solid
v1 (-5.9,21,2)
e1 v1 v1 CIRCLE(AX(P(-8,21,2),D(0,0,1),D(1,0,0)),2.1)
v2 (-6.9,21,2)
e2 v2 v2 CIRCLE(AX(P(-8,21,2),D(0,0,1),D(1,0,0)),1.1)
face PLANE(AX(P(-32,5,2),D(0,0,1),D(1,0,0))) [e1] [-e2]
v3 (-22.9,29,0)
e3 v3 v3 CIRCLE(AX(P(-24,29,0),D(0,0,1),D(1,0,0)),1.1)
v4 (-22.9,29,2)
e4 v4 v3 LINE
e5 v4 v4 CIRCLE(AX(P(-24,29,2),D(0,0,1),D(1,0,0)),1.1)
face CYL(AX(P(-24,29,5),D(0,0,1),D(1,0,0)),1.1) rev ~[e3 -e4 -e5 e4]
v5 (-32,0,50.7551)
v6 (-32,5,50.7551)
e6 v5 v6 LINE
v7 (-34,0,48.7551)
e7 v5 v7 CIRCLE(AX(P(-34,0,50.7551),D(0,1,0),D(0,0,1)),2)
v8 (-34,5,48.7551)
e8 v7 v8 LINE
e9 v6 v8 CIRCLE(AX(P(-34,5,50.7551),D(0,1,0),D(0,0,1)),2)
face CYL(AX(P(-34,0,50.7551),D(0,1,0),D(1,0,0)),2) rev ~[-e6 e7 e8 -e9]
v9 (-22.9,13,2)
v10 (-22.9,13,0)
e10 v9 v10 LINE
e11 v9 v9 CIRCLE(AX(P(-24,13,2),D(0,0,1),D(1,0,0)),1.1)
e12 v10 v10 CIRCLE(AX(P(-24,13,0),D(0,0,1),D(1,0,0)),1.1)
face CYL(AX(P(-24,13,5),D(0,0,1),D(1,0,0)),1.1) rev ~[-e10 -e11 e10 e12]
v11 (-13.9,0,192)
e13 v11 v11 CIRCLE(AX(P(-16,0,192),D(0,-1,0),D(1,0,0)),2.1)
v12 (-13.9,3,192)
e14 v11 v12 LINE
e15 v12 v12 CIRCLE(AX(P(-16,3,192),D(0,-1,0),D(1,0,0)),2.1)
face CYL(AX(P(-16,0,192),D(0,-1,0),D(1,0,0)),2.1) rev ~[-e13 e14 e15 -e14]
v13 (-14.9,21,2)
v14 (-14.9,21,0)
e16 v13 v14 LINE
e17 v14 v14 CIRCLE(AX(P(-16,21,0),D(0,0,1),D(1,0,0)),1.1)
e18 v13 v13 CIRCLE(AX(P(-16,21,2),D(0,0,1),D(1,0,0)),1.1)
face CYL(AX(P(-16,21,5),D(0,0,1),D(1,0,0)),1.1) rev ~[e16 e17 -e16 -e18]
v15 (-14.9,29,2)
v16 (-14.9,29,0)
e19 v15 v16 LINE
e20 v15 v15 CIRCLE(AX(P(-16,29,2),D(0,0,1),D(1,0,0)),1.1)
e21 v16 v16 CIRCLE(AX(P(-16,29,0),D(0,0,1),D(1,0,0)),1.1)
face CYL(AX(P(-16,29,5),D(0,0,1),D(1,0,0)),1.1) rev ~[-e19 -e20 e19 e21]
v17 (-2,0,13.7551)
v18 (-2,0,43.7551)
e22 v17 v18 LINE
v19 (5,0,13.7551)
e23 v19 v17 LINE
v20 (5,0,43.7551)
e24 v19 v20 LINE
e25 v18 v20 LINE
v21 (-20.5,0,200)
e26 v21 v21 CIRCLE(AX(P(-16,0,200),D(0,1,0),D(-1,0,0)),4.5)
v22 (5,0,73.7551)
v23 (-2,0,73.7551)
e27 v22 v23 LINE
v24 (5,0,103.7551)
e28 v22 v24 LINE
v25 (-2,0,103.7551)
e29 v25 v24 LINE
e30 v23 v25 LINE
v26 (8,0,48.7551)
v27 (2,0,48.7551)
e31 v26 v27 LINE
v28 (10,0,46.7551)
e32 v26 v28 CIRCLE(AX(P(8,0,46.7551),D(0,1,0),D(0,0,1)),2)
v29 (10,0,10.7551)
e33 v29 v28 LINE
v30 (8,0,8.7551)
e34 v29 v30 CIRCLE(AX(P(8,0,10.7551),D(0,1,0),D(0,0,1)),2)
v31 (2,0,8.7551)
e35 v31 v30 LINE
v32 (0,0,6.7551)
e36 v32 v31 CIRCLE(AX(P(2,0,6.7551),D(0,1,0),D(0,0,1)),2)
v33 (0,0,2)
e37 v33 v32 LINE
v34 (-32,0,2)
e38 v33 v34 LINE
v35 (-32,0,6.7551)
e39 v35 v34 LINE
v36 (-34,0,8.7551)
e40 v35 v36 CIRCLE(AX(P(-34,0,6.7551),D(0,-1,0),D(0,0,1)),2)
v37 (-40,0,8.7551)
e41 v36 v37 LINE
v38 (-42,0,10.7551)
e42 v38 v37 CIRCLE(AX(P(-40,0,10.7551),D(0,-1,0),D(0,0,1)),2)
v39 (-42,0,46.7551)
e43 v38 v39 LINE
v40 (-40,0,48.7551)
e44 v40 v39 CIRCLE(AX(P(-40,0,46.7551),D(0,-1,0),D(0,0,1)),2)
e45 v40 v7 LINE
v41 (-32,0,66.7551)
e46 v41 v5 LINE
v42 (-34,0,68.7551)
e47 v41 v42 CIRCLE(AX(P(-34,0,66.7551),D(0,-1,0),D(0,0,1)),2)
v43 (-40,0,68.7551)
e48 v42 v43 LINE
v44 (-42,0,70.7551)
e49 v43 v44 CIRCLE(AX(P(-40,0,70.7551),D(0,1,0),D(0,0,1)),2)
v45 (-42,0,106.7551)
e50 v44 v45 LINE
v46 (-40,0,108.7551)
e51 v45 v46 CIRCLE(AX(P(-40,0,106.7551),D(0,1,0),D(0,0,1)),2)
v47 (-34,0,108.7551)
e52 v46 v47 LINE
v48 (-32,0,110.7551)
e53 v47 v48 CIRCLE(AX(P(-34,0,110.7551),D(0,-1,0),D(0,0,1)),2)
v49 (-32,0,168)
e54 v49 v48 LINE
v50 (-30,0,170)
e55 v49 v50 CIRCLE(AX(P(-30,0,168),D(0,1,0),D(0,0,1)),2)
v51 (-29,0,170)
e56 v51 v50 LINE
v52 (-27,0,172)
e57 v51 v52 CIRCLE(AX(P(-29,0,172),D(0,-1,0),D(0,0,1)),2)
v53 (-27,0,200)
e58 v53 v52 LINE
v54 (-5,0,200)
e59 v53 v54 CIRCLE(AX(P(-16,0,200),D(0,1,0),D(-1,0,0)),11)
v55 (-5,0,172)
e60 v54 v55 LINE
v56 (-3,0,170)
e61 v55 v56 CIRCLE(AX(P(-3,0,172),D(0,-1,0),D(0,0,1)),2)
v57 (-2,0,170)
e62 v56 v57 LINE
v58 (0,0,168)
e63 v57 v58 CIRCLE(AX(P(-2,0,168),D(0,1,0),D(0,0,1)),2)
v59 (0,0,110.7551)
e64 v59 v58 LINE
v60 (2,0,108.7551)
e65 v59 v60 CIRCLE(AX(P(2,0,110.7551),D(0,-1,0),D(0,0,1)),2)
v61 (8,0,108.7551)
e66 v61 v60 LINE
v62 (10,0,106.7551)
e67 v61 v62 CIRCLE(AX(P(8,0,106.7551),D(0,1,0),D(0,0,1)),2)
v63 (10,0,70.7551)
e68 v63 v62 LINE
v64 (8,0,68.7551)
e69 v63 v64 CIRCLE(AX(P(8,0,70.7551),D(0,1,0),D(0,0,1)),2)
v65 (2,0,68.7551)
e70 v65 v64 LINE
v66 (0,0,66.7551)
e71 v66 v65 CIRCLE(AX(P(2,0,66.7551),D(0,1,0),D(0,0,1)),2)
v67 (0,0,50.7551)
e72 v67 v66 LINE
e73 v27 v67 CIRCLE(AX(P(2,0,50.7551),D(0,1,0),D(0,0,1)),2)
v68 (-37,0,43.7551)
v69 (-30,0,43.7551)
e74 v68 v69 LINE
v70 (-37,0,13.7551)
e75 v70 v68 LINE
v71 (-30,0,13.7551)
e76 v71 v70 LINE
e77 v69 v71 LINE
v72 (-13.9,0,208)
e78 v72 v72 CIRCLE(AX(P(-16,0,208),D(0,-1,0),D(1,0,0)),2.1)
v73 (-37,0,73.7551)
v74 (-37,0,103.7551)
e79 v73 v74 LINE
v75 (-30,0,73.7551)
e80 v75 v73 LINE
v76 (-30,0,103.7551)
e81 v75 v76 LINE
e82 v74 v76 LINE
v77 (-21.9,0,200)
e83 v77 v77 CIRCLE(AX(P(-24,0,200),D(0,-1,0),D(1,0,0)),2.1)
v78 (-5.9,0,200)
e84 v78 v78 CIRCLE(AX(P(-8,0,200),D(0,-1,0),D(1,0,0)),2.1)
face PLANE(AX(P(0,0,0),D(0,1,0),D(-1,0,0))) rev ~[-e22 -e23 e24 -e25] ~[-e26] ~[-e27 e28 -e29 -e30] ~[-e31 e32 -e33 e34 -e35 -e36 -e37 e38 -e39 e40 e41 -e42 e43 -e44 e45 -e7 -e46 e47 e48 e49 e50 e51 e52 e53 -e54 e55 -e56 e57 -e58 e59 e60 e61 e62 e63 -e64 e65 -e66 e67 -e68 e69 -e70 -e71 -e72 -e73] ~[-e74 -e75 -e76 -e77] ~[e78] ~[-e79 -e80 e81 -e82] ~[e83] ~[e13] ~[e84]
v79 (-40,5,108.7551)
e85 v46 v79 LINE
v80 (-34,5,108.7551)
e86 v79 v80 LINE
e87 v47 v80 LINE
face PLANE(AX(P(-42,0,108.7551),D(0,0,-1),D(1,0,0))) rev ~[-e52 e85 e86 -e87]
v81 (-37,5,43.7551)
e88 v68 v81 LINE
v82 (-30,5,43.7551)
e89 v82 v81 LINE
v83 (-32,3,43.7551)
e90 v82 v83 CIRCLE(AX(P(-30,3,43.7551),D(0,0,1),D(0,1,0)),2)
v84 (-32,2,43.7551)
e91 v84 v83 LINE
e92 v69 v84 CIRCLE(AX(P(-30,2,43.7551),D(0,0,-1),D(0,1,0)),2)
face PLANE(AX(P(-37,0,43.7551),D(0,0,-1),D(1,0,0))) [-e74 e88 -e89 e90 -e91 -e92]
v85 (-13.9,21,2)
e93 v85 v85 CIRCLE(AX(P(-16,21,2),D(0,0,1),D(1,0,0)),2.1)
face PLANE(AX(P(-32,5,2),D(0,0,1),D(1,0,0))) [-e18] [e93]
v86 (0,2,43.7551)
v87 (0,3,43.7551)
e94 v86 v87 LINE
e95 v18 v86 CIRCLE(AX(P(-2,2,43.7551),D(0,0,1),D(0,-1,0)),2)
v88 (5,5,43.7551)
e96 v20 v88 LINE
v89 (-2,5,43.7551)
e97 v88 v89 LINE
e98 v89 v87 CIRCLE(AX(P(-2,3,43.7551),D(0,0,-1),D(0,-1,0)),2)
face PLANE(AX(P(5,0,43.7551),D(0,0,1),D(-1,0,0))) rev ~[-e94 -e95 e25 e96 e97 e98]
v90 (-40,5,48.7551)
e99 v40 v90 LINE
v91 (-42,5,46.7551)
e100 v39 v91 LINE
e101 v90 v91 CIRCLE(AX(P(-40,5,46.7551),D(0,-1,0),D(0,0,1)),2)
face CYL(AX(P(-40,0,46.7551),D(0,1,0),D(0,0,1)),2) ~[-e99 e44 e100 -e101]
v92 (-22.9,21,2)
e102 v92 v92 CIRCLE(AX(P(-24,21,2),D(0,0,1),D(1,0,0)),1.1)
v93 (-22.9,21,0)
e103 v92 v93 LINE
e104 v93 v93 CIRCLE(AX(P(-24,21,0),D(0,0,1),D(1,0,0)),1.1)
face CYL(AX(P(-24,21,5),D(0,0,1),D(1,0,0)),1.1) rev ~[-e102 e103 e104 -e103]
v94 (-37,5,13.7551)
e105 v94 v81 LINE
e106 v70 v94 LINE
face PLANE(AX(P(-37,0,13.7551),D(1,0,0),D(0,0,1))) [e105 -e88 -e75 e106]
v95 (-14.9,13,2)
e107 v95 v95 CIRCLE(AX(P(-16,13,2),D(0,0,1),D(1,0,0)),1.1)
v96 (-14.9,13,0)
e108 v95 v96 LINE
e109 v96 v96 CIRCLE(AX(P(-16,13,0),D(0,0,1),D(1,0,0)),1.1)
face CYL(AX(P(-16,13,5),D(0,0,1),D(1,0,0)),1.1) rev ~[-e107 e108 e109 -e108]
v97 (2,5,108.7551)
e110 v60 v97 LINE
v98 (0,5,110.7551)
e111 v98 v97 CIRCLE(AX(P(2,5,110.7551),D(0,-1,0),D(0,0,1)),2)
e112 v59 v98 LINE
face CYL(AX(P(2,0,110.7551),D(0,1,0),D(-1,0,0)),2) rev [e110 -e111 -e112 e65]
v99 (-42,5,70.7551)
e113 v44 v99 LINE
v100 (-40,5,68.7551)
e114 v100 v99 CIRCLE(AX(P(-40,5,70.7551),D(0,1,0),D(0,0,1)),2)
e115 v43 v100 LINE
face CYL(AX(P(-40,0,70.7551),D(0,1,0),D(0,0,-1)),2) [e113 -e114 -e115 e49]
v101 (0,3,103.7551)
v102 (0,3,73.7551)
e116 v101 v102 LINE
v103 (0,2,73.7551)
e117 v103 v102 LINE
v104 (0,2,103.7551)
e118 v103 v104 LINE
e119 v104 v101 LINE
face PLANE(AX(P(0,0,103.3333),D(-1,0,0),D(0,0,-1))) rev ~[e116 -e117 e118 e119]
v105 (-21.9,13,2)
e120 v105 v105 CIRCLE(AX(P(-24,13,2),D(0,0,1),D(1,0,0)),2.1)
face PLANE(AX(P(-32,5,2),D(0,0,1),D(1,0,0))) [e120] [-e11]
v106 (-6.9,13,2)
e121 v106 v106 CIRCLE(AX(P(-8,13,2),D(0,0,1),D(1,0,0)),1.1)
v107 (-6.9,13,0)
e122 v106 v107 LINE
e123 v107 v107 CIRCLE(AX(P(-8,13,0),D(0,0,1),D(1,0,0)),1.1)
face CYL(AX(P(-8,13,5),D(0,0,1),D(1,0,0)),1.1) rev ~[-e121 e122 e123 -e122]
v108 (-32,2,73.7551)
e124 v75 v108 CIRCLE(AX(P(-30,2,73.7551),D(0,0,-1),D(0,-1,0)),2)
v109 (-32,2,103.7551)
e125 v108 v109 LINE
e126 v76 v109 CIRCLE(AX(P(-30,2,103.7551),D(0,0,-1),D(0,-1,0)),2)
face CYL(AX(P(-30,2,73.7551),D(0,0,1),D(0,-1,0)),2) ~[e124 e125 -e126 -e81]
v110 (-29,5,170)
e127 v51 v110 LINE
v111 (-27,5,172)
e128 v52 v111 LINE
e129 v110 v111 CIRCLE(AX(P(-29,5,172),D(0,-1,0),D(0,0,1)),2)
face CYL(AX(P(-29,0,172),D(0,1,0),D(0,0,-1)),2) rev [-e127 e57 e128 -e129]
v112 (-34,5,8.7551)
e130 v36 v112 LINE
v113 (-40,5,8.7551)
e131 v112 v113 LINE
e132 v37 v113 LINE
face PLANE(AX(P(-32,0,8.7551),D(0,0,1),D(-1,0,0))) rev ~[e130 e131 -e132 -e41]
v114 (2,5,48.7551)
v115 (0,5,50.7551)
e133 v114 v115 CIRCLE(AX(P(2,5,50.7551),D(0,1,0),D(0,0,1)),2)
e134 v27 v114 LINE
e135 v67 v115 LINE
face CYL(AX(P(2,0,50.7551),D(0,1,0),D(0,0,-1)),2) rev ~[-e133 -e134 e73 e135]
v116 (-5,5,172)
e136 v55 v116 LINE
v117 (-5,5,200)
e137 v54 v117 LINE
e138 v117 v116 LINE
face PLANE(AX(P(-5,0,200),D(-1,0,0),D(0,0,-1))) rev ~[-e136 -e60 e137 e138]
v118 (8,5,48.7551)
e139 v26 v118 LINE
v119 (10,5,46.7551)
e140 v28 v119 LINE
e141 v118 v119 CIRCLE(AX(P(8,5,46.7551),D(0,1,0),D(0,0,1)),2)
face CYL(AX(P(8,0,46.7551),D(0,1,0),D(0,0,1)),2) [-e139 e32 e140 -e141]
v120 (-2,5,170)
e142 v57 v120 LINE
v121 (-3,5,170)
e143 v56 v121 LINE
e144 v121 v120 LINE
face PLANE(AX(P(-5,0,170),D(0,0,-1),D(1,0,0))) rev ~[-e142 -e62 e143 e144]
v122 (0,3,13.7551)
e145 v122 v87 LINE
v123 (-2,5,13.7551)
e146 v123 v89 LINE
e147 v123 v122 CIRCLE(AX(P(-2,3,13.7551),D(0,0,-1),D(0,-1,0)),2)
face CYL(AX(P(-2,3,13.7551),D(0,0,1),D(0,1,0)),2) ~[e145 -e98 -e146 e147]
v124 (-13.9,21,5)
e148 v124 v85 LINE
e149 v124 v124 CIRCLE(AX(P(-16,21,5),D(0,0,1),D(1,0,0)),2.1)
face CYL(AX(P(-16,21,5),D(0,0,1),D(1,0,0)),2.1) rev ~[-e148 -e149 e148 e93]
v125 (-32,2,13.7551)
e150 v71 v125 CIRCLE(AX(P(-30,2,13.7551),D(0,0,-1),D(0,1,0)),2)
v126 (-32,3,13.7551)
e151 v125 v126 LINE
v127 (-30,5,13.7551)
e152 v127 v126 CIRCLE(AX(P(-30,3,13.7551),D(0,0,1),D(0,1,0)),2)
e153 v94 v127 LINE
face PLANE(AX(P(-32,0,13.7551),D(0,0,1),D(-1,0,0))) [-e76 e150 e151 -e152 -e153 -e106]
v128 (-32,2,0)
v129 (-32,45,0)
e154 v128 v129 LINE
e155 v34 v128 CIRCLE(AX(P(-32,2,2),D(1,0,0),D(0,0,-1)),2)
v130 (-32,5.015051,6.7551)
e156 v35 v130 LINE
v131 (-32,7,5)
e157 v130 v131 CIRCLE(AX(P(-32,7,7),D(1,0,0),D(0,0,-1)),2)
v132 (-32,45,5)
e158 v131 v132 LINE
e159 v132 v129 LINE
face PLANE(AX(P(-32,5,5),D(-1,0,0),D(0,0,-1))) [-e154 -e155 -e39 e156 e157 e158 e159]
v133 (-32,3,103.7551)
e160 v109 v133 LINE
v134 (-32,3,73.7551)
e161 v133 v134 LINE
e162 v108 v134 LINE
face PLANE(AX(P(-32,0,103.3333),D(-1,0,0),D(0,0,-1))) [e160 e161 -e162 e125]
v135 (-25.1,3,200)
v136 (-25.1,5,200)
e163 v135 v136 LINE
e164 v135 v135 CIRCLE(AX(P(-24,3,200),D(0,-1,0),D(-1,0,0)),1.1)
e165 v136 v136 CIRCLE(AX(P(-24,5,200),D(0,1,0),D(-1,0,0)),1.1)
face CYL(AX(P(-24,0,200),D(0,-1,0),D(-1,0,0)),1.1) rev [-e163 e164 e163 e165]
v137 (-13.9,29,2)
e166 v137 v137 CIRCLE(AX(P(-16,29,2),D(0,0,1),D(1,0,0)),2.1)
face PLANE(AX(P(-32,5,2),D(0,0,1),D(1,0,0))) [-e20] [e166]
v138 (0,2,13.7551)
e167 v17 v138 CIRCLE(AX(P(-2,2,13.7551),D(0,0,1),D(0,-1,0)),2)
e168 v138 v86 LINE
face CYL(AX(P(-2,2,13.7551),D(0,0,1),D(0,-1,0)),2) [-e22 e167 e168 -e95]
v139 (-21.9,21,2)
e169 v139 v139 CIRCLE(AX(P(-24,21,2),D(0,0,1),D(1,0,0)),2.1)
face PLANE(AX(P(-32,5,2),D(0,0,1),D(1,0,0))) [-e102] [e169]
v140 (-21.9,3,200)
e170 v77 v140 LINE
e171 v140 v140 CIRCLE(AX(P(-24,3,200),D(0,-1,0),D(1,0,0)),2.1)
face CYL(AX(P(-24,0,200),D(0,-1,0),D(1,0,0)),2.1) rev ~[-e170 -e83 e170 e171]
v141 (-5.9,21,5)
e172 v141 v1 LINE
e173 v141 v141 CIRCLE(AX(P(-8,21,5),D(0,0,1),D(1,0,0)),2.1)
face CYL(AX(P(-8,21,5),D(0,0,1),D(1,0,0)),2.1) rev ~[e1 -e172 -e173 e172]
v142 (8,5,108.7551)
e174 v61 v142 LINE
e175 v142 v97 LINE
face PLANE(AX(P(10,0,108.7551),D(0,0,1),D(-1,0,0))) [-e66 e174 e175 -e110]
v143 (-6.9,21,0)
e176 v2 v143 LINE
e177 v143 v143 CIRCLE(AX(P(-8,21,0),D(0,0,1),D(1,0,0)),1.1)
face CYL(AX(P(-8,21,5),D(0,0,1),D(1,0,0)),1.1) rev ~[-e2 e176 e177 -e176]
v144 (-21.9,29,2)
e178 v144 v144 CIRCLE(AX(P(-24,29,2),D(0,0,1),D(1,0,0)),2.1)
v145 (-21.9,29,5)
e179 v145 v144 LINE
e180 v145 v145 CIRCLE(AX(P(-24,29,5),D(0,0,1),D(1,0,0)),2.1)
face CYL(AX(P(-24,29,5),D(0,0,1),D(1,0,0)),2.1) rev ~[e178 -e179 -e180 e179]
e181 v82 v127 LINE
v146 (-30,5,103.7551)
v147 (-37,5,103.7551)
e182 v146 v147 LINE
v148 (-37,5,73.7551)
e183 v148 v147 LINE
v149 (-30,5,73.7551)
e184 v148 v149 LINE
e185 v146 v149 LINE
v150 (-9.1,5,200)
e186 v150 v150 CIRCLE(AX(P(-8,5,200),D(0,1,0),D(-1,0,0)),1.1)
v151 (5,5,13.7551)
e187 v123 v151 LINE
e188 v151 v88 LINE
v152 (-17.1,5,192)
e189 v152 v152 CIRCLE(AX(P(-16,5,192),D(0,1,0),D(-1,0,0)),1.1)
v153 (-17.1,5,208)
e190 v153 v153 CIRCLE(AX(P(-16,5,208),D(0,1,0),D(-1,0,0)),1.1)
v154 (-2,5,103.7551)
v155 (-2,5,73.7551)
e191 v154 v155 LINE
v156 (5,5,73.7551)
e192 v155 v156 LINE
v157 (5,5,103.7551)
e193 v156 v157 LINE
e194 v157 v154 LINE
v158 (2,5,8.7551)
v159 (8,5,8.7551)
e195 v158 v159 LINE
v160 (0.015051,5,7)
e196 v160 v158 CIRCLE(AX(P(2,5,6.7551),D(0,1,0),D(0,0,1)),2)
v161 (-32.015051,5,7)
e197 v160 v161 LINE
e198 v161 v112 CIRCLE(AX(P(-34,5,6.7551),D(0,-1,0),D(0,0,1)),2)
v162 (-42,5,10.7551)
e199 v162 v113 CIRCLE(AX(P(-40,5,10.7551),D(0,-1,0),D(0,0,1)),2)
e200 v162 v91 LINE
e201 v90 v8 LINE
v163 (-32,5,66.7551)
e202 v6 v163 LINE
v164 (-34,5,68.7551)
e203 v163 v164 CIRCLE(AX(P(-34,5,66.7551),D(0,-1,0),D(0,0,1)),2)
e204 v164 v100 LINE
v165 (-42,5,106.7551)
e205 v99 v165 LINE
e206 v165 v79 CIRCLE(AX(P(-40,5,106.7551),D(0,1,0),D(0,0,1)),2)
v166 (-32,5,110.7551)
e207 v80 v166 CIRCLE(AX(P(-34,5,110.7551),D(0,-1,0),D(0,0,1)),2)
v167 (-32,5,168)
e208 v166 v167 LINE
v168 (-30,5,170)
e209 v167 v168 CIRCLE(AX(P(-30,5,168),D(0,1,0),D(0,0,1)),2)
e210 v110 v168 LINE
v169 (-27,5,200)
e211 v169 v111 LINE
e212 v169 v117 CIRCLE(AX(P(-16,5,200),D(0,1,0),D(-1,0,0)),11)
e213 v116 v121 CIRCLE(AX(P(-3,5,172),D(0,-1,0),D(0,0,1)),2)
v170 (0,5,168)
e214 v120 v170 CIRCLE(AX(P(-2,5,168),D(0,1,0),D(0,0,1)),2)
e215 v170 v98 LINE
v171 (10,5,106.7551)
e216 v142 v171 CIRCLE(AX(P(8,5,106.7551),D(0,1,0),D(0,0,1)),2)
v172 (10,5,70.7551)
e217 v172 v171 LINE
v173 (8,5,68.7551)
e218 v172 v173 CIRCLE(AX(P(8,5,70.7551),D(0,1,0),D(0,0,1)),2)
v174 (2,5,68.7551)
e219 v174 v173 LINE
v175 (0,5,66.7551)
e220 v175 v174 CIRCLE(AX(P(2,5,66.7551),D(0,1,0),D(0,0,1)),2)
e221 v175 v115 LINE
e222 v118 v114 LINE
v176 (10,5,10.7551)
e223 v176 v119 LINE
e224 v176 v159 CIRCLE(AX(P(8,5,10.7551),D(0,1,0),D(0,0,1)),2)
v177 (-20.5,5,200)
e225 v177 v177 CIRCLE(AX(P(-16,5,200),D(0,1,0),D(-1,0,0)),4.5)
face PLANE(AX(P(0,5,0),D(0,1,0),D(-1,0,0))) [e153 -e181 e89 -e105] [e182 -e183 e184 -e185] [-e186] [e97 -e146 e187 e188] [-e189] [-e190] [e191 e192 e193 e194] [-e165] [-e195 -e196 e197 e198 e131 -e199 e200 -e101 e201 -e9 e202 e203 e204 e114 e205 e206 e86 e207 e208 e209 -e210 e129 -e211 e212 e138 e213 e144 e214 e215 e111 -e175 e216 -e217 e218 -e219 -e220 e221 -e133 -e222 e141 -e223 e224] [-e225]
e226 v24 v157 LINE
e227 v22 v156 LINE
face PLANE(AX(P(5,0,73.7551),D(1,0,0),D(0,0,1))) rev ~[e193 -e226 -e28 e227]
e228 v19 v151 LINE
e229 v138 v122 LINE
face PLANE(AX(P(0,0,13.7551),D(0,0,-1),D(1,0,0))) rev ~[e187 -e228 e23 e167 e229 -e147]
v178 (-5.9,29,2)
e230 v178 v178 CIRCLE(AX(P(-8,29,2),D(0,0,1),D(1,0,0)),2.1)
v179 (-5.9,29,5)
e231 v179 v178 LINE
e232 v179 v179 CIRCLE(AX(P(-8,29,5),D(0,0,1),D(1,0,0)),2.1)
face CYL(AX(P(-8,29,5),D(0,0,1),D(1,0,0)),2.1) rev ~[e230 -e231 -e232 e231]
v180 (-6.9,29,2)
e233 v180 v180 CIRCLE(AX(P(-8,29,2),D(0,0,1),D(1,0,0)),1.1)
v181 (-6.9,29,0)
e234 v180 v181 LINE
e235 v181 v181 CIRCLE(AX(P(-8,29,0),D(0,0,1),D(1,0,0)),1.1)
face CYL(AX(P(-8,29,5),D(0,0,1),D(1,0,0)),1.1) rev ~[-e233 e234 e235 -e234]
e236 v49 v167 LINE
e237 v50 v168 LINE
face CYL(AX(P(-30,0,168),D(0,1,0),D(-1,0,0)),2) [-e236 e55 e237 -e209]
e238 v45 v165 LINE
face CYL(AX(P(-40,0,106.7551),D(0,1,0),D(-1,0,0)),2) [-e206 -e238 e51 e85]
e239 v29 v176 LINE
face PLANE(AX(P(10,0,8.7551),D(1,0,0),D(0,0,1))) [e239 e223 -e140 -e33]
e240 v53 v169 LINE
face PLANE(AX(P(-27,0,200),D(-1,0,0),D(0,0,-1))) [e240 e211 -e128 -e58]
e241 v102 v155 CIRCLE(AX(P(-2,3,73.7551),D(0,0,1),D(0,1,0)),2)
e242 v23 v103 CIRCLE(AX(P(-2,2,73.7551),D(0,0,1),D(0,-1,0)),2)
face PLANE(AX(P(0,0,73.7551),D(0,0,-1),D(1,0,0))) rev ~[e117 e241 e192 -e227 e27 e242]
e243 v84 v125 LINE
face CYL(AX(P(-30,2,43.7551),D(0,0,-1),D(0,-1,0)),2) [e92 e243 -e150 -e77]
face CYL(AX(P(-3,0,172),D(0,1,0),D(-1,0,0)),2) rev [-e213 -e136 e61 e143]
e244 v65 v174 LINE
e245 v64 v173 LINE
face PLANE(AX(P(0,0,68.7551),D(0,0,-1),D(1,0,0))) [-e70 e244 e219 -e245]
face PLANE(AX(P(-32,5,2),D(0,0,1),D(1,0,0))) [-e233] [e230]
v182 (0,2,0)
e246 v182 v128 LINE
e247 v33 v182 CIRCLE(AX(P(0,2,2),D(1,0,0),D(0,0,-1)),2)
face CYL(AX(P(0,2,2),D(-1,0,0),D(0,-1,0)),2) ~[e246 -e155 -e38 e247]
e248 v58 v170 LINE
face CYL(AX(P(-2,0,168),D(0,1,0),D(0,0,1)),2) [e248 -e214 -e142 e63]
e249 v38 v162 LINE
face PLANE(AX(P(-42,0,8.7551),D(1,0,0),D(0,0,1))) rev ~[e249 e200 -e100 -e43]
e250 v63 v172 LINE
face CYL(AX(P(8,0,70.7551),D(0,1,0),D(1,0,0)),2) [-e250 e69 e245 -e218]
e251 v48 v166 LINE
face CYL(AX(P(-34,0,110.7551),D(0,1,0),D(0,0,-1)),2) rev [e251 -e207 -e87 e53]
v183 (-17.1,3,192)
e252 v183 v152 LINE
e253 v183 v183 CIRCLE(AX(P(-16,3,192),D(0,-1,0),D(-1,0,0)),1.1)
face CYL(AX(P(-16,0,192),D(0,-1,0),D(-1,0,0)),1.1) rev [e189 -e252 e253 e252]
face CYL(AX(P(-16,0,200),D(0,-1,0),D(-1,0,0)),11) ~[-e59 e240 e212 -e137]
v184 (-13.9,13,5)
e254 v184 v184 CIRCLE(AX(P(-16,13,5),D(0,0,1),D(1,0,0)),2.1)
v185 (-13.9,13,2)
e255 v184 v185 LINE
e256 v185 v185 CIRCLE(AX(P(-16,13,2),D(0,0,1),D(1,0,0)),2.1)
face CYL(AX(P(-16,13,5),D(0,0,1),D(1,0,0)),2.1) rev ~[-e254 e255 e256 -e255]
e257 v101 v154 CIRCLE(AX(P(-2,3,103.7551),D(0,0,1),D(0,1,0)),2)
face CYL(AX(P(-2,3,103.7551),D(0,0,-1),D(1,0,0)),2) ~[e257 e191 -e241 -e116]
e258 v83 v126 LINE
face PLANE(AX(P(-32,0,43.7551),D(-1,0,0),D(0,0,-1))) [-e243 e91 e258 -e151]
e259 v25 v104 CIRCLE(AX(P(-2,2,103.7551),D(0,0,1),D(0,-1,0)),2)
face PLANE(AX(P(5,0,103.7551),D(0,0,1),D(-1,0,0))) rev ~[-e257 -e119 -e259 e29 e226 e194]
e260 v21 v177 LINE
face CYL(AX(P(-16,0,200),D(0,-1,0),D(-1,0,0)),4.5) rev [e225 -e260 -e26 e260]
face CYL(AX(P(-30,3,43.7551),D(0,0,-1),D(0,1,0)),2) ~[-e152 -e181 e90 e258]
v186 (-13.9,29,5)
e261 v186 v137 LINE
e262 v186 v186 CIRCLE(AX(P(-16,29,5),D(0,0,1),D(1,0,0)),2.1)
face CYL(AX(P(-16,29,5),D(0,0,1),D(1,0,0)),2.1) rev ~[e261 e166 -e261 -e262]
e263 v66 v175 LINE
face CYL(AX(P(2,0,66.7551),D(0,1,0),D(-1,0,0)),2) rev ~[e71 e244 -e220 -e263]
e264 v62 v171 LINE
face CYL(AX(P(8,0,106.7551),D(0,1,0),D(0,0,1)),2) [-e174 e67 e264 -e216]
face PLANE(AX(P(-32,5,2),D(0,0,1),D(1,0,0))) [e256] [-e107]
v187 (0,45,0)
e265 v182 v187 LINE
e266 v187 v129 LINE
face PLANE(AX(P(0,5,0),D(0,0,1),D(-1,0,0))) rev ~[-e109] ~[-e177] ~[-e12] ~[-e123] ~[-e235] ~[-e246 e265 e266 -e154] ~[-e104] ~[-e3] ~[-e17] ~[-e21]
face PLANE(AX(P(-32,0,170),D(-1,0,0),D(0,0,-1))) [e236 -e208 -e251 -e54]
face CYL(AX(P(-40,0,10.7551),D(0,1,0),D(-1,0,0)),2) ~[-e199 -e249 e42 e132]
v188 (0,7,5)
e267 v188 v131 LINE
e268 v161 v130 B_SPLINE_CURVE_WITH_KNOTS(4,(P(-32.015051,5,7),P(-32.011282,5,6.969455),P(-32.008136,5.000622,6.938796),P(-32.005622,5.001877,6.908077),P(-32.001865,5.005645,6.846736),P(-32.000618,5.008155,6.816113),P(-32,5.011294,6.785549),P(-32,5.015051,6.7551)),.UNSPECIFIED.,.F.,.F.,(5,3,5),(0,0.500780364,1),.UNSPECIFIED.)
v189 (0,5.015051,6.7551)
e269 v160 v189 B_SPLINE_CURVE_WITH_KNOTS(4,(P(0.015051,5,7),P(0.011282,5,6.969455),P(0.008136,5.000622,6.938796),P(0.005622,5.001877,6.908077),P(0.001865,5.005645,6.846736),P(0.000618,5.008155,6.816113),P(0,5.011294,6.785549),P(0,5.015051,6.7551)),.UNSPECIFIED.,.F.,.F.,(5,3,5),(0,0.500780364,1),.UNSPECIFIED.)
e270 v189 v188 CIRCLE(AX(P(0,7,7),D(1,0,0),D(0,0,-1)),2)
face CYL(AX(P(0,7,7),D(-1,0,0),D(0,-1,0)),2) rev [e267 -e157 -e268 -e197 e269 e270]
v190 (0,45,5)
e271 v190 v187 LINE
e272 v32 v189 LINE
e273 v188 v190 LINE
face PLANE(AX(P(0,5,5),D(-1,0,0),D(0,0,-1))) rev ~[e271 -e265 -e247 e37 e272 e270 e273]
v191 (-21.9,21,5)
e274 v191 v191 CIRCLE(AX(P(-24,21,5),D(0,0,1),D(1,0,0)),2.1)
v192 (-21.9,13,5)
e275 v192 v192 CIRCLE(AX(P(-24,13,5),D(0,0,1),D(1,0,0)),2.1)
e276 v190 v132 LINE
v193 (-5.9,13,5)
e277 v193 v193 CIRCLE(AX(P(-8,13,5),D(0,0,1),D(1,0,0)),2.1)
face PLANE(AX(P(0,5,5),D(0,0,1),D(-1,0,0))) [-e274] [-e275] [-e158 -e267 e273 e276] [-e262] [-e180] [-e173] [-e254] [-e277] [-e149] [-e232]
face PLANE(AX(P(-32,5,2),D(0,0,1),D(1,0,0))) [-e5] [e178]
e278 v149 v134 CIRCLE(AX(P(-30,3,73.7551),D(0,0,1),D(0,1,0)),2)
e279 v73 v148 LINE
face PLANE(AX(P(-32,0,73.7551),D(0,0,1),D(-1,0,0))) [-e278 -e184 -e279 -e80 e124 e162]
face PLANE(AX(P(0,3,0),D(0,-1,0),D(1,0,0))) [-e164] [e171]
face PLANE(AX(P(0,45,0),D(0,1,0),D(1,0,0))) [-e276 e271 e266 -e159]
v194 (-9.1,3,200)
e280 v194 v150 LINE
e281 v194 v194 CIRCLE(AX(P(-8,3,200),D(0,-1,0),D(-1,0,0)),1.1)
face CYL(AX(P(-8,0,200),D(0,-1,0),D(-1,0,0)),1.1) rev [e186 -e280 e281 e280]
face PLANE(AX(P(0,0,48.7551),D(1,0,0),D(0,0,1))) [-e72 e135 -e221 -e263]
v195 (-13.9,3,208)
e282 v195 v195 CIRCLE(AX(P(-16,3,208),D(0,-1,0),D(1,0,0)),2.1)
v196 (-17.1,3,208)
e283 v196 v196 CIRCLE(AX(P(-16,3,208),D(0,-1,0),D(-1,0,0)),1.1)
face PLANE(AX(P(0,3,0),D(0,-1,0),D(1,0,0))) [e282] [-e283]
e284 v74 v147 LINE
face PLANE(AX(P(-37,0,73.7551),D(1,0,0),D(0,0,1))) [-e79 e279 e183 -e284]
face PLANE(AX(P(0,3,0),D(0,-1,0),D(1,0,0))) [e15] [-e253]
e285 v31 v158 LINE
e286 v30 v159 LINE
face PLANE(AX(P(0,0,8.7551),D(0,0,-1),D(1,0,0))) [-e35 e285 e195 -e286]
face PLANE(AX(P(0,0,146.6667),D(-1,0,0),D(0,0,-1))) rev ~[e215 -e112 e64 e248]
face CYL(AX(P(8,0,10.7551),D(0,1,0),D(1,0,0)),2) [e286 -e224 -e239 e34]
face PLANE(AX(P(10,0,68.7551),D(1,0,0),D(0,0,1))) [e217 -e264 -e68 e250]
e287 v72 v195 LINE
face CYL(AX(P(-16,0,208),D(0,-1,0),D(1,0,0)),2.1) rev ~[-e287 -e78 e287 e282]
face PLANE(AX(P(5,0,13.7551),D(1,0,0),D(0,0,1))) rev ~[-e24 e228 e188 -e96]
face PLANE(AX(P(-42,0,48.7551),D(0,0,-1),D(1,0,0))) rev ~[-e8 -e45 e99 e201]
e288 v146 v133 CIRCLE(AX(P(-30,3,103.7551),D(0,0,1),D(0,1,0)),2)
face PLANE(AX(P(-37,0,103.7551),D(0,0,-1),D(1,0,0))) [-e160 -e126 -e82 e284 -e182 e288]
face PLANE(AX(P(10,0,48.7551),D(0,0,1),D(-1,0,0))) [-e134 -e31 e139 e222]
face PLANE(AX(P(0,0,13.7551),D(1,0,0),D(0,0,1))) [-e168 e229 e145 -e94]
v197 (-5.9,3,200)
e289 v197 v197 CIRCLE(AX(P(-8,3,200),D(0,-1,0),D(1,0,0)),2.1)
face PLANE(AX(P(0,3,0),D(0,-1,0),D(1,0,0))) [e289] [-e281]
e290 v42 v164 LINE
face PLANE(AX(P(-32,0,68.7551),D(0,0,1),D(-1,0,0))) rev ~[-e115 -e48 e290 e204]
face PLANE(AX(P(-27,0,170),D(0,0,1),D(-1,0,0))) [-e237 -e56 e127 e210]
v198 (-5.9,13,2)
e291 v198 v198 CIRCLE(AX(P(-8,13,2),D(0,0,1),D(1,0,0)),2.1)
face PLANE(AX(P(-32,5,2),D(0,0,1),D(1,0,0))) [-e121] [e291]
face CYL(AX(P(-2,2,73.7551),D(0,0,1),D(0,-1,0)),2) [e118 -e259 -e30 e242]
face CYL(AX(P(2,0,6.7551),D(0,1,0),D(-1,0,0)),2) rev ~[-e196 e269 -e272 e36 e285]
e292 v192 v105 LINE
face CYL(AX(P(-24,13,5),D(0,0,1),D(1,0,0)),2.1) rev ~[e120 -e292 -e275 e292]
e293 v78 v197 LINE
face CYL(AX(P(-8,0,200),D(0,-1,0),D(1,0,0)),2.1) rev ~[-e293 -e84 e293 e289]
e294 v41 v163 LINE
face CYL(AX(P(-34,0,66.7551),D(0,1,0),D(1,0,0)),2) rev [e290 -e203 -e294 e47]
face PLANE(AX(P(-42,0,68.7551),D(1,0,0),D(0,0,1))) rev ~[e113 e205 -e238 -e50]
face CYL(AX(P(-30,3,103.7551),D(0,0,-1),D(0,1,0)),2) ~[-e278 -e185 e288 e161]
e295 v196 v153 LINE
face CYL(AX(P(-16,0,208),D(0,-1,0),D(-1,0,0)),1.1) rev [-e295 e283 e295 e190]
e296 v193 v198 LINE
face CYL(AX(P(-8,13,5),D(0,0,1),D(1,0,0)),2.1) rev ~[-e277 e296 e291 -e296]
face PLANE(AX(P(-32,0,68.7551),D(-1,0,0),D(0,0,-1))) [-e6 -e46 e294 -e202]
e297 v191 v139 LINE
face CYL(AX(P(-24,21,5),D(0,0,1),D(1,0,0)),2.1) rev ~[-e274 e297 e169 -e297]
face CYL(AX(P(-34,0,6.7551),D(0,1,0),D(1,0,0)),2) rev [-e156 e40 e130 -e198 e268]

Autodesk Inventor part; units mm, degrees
ref_plane "YZ Plane" through (0, 0, 0) normal (1, 0, 0) x (0, 1, 0)
ref_plane "XZ Plane" through (0, 0, 0) normal (0, 1, 0) x (-1, 0, 0)
ref_plane "XY Plane" through (0, 0, 0) normal (0, 0, 1) x (1, 0, 0)
sketch "스케치1" plane through (0, 0, 0) normal (0, 1, 0) x (-1, 0, 0)
  line L0 (32, 103.3333) -> (32, 63.3333)
  line L1 (32, 146.6667) -> (32, 106.6667)
  line L2 (0, 103.3333) -> (0, 63.3333)
  line L3 (0, 146.6667) -> (0, 106.6667)
  line L4 (0, 0) -> (32, 0)
  circle A0 centre (16, 200) radius 11
  circle A1 centre (16, 192) radius 1.1
  circle A2 centre (16, 200) radius 11
  circle A3 centre (24, 200) radius 1.1
  circle A4 centre (16, 200) radius 11
  circle A5 centre (16, 208) radius 1.1
  circle A6 centre (16, 200) radius 11
  circle A7 centre (8, 200) radius 1.1
  arc A8 (17.1384, 189.0591) -> (17.1564, 189.061) centre (16, 200) ccw
  circle A9 centre (16, 200) radius 4.5
  line L5 (27, 200) -> (27, 170)
  line L6 (27, 170) -> (32, 170)
  line L7 (32, 170) -> (32, 0)
  line L8 (5, 200) -> (5, 170)
  line L9 (5, 170) -> (0, 170)
  line L10 (0, 0) -> (0, 170)
  arc A10 (5, 200) -> (27, 200) centre (16, 200) ccw
  line L11 (0, 13.7551) -> (-5, 13.7551)
  line L12 (-5, 13.7551) -> (-5, 43.7551)
  line L13 (-5, 43.7551) -> (0, 43.7551)
  line L14 (0, 43.7551) -> (0, 13.7551)
  line L15 (32, 13.7551) -> (37, 13.7551)
  line L16 (37, 13.7551) -> (37, 43.7551)
  line L17 (37, 43.7551) -> (32, 43.7551)
  line L18 (32, 43.7551) -> (32, 13.7551)
  line L19 (32, 8.7551) -> (42, 8.7551)
  line L20 (42, 8.7551) -> (42, 48.7551)
  line L21 (42, 48.7551) -> (32, 48.7551)
  line L22 (32, 48.7551) -> (32, 8.7551)
  line L23 (0, 8.7551) -> (-10, 8.7551)
  line L24 (-10, 8.7551) -> (-10, 48.7551)
  line L25 (-10, 48.7551) -> (0, 48.7551)
  line L26 (0, 48.7551) -> (0, 8.7551)
  line L27 (0, 103.7551) -> (0, 73.7551)
  line L28 (-5, 73.7551) -> (-5, 103.7551)
  line L29 (-5, 103.7551) -> (0, 103.7551)
  line L30 (-10, 108.7551) -> (0, 108.7551)
  line L31 (0, 108.7551) -> (0, 68.7551)
  line L32 (-10, 68.7551) -> (-10, 108.7551)
  line L33 (0, 68.7551) -> (-10, 68.7551)
  line L34 (0, 73.7551) -> (-5, 73.7551)
  line L35 (42, 108.7551) -> (32, 108.7551)
  line L36 (37, 103.7551) -> (32, 103.7551)
  line L37 (32, 103.7551) -> (32, 73.7551)
  line L38 (37, 73.7551) -> (37, 103.7551)
  line L39 (32, 108.7551) -> (32, 68.7551)
  line L40 (42, 68.7551) -> (42, 108.7551)
  line L41 (32, 68.7551) -> (42, 68.7551)
  line L42 (32, 73.7551) -> (37, 73.7551)
  point P0 (32, 123.3333)
  point P1 (0, 123.3333)
  dimension "d162" = 2.2
  dimension "d163" = 360
  dimension "d164" = 9
  dimension "d165" = 30
  dimension "d166" = 5
  dimension "d167" = 30
  dimension "d170" = 5
  dimension "d171" = 30
  dimension "d174" = 5
  dimension "d175" = 5
  dimension "d176" = 5
  dimension "d177" = 5
  dimension "d180" = 60
extrude "돌출5" add sketch "스케치1" along normal blind 5 contours L0 L7 L4 L10 L2 L3 L9 L8 A0 L5 L6 L1 | L42 L38 L36 L7 L1 L35 L40 L41 L0 | L21 L20 L19 L7 L15 L16 L17 | A0 | L23 L24 L25 L10 L13 L12 L11 | L3 L10 L29 L28 L34 L2 L33 L32 L30
sketch "스케치11" plane through (0, 5, 0) normal (0, 1, 0) x (1, 0, 0)
  line L0 (0, 0) -> (-32, 0) projected
  line L1 (0, -200) -> (0, 0) projected
  line L2 (-32, 0) -> (0, 0)
  line L3 (0, 0) -> (0, -5)
  line L4 (0, -5) -> (-32, -5)
  line L5 (-32, -5) -> (-32, 0)
  point P0 (0, -60)
  dimension "d138" = 5
extrude "돌출11" add sketch "스케치11" along normal blind 40
sketch "스케치12" plane through (-32, 5, 5) normal (0, 0, 1) x (1, 0, 0)
  circle A0 centre (8, 24) radius 1.1
  circle A1 centre (8, 24) radius 2.1
  line L0 (32, 0) -> (0, 0) projected
  line L1 (32, 0) -> (32, 40) projected
  line L2 (0, 40) -> (32, 40) projected
  line L3 (0, 0) -> (0, 40) projected
  circle A2 centre (16, 24) radius 1.1
  circle A3 centre (16, 24) radius 2.1
  circle A4 centre (24, 24) radius 1.1
  circle A5 centre (24, 24) radius 2.1
  circle A6 centre (8, 16) radius 1.1
  circle A7 centre (8, 16) radius 2.1
  circle A8 centre (16, 16) radius 1.1
  circle A9 centre (16, 16) radius 2.1
  circle A10 centre (24, 16) radius 1.1
  circle A11 centre (24, 16) radius 2.1
  circle A12 centre (8, 8) radius 1.1
  circle A13 centre (8, 8) radius 2.1
  circle A14 centre (16, 8) radius 1.1
  circle A15 centre (16, 8) radius 2.1
  circle A16 centre (24, 8) radius 1.1
  circle A17 centre (24, 8) radius 2.1
  point P0 (32, -5)
  dimension "d141" = 2.2
  dimension "d142" = 4.2
  dimension "d145" = 8
  dimension "d148" = 8
  dimension "d151" = 16
  dimension "d152" = 16
extrude "돌출12" cut sketch "스케치12" against normal blind 3 contours A0 | A1 | A2 | A3 | A4 | A5 | A6 | A7 | A8 | A9 | A10 | A11 | A12 | A13 | A14 | A15 | A16 | A17
extrude "돌출13" cut sketch "스케치12" against normal blind 5 contours A0 | A2 | A4 | A6 | A8 | A10 | A12 | A14 | A16
fillet "모깎기5" radius 2 30 edges at (-5, 2.5, 170) (0, 2.5, 170) (0, 2.5, 108.7551) (10, 2.5, 108.7551) (10, 2.5, 68.7551) (10, 2.5, 48.7551) (0, 2.5, 48.7551) (10, 2.5, 8.7551) (0, 5, 88.7551) (-32, 5, 88.7551) (-42, 2.5, 108.7551) (-32, 2.5, 170) (-42, 2.5, 48.7551) (-32, 5, 28.7551) (-42, 2.5, 8.7551) (-42, 2.5, 68.7551) (0, 5, 28.7551) (0, 2.5, 8.7551) (-32, 2.5, 8.7551) (-32, 0, 28.7551) (-32, 0, 88.7551) (0, 2.5, 68.7551) (-32, 2.5, 68.7551) (-32, 2.5, 48.7551) (-32, 2.5, 108.7551) (-27, 2.5, 170) (0, 0, 88.7551) (0, 0, 28.7551) (-16, 0, 0) (-16, 5, 5)
sketch "스케치14" plane through (0, 0, 0) normal (0, -1, 0) x (1, 0, 0)
  circle A0 centre (-24, 200) radius 1.1 projected
  circle A1 centre (-24, 200) radius 2.1
  circle A2 centre (-16, 208) radius 1.1 projected
  circle A3 centre (-16, 208) radius 2.1
  circle A4 centre (-16, 192) radius 1.1 projected
  circle A5 centre (-16, 192) radius 2.1
  circle A6 centre (-8, 200) radius 1.1 projected
  circle A7 centre (-8, 200) radius 2.1
  point P0 (0, 0)
  dimension "d192" = 4.2
  dimension "d193" = 4.2
  dimension "d194" = 4.2
  dimension "d195" = 4.2
extrude "돌출15" cut sketch "스케치14" against normal blind 3
properties part number "hand"
